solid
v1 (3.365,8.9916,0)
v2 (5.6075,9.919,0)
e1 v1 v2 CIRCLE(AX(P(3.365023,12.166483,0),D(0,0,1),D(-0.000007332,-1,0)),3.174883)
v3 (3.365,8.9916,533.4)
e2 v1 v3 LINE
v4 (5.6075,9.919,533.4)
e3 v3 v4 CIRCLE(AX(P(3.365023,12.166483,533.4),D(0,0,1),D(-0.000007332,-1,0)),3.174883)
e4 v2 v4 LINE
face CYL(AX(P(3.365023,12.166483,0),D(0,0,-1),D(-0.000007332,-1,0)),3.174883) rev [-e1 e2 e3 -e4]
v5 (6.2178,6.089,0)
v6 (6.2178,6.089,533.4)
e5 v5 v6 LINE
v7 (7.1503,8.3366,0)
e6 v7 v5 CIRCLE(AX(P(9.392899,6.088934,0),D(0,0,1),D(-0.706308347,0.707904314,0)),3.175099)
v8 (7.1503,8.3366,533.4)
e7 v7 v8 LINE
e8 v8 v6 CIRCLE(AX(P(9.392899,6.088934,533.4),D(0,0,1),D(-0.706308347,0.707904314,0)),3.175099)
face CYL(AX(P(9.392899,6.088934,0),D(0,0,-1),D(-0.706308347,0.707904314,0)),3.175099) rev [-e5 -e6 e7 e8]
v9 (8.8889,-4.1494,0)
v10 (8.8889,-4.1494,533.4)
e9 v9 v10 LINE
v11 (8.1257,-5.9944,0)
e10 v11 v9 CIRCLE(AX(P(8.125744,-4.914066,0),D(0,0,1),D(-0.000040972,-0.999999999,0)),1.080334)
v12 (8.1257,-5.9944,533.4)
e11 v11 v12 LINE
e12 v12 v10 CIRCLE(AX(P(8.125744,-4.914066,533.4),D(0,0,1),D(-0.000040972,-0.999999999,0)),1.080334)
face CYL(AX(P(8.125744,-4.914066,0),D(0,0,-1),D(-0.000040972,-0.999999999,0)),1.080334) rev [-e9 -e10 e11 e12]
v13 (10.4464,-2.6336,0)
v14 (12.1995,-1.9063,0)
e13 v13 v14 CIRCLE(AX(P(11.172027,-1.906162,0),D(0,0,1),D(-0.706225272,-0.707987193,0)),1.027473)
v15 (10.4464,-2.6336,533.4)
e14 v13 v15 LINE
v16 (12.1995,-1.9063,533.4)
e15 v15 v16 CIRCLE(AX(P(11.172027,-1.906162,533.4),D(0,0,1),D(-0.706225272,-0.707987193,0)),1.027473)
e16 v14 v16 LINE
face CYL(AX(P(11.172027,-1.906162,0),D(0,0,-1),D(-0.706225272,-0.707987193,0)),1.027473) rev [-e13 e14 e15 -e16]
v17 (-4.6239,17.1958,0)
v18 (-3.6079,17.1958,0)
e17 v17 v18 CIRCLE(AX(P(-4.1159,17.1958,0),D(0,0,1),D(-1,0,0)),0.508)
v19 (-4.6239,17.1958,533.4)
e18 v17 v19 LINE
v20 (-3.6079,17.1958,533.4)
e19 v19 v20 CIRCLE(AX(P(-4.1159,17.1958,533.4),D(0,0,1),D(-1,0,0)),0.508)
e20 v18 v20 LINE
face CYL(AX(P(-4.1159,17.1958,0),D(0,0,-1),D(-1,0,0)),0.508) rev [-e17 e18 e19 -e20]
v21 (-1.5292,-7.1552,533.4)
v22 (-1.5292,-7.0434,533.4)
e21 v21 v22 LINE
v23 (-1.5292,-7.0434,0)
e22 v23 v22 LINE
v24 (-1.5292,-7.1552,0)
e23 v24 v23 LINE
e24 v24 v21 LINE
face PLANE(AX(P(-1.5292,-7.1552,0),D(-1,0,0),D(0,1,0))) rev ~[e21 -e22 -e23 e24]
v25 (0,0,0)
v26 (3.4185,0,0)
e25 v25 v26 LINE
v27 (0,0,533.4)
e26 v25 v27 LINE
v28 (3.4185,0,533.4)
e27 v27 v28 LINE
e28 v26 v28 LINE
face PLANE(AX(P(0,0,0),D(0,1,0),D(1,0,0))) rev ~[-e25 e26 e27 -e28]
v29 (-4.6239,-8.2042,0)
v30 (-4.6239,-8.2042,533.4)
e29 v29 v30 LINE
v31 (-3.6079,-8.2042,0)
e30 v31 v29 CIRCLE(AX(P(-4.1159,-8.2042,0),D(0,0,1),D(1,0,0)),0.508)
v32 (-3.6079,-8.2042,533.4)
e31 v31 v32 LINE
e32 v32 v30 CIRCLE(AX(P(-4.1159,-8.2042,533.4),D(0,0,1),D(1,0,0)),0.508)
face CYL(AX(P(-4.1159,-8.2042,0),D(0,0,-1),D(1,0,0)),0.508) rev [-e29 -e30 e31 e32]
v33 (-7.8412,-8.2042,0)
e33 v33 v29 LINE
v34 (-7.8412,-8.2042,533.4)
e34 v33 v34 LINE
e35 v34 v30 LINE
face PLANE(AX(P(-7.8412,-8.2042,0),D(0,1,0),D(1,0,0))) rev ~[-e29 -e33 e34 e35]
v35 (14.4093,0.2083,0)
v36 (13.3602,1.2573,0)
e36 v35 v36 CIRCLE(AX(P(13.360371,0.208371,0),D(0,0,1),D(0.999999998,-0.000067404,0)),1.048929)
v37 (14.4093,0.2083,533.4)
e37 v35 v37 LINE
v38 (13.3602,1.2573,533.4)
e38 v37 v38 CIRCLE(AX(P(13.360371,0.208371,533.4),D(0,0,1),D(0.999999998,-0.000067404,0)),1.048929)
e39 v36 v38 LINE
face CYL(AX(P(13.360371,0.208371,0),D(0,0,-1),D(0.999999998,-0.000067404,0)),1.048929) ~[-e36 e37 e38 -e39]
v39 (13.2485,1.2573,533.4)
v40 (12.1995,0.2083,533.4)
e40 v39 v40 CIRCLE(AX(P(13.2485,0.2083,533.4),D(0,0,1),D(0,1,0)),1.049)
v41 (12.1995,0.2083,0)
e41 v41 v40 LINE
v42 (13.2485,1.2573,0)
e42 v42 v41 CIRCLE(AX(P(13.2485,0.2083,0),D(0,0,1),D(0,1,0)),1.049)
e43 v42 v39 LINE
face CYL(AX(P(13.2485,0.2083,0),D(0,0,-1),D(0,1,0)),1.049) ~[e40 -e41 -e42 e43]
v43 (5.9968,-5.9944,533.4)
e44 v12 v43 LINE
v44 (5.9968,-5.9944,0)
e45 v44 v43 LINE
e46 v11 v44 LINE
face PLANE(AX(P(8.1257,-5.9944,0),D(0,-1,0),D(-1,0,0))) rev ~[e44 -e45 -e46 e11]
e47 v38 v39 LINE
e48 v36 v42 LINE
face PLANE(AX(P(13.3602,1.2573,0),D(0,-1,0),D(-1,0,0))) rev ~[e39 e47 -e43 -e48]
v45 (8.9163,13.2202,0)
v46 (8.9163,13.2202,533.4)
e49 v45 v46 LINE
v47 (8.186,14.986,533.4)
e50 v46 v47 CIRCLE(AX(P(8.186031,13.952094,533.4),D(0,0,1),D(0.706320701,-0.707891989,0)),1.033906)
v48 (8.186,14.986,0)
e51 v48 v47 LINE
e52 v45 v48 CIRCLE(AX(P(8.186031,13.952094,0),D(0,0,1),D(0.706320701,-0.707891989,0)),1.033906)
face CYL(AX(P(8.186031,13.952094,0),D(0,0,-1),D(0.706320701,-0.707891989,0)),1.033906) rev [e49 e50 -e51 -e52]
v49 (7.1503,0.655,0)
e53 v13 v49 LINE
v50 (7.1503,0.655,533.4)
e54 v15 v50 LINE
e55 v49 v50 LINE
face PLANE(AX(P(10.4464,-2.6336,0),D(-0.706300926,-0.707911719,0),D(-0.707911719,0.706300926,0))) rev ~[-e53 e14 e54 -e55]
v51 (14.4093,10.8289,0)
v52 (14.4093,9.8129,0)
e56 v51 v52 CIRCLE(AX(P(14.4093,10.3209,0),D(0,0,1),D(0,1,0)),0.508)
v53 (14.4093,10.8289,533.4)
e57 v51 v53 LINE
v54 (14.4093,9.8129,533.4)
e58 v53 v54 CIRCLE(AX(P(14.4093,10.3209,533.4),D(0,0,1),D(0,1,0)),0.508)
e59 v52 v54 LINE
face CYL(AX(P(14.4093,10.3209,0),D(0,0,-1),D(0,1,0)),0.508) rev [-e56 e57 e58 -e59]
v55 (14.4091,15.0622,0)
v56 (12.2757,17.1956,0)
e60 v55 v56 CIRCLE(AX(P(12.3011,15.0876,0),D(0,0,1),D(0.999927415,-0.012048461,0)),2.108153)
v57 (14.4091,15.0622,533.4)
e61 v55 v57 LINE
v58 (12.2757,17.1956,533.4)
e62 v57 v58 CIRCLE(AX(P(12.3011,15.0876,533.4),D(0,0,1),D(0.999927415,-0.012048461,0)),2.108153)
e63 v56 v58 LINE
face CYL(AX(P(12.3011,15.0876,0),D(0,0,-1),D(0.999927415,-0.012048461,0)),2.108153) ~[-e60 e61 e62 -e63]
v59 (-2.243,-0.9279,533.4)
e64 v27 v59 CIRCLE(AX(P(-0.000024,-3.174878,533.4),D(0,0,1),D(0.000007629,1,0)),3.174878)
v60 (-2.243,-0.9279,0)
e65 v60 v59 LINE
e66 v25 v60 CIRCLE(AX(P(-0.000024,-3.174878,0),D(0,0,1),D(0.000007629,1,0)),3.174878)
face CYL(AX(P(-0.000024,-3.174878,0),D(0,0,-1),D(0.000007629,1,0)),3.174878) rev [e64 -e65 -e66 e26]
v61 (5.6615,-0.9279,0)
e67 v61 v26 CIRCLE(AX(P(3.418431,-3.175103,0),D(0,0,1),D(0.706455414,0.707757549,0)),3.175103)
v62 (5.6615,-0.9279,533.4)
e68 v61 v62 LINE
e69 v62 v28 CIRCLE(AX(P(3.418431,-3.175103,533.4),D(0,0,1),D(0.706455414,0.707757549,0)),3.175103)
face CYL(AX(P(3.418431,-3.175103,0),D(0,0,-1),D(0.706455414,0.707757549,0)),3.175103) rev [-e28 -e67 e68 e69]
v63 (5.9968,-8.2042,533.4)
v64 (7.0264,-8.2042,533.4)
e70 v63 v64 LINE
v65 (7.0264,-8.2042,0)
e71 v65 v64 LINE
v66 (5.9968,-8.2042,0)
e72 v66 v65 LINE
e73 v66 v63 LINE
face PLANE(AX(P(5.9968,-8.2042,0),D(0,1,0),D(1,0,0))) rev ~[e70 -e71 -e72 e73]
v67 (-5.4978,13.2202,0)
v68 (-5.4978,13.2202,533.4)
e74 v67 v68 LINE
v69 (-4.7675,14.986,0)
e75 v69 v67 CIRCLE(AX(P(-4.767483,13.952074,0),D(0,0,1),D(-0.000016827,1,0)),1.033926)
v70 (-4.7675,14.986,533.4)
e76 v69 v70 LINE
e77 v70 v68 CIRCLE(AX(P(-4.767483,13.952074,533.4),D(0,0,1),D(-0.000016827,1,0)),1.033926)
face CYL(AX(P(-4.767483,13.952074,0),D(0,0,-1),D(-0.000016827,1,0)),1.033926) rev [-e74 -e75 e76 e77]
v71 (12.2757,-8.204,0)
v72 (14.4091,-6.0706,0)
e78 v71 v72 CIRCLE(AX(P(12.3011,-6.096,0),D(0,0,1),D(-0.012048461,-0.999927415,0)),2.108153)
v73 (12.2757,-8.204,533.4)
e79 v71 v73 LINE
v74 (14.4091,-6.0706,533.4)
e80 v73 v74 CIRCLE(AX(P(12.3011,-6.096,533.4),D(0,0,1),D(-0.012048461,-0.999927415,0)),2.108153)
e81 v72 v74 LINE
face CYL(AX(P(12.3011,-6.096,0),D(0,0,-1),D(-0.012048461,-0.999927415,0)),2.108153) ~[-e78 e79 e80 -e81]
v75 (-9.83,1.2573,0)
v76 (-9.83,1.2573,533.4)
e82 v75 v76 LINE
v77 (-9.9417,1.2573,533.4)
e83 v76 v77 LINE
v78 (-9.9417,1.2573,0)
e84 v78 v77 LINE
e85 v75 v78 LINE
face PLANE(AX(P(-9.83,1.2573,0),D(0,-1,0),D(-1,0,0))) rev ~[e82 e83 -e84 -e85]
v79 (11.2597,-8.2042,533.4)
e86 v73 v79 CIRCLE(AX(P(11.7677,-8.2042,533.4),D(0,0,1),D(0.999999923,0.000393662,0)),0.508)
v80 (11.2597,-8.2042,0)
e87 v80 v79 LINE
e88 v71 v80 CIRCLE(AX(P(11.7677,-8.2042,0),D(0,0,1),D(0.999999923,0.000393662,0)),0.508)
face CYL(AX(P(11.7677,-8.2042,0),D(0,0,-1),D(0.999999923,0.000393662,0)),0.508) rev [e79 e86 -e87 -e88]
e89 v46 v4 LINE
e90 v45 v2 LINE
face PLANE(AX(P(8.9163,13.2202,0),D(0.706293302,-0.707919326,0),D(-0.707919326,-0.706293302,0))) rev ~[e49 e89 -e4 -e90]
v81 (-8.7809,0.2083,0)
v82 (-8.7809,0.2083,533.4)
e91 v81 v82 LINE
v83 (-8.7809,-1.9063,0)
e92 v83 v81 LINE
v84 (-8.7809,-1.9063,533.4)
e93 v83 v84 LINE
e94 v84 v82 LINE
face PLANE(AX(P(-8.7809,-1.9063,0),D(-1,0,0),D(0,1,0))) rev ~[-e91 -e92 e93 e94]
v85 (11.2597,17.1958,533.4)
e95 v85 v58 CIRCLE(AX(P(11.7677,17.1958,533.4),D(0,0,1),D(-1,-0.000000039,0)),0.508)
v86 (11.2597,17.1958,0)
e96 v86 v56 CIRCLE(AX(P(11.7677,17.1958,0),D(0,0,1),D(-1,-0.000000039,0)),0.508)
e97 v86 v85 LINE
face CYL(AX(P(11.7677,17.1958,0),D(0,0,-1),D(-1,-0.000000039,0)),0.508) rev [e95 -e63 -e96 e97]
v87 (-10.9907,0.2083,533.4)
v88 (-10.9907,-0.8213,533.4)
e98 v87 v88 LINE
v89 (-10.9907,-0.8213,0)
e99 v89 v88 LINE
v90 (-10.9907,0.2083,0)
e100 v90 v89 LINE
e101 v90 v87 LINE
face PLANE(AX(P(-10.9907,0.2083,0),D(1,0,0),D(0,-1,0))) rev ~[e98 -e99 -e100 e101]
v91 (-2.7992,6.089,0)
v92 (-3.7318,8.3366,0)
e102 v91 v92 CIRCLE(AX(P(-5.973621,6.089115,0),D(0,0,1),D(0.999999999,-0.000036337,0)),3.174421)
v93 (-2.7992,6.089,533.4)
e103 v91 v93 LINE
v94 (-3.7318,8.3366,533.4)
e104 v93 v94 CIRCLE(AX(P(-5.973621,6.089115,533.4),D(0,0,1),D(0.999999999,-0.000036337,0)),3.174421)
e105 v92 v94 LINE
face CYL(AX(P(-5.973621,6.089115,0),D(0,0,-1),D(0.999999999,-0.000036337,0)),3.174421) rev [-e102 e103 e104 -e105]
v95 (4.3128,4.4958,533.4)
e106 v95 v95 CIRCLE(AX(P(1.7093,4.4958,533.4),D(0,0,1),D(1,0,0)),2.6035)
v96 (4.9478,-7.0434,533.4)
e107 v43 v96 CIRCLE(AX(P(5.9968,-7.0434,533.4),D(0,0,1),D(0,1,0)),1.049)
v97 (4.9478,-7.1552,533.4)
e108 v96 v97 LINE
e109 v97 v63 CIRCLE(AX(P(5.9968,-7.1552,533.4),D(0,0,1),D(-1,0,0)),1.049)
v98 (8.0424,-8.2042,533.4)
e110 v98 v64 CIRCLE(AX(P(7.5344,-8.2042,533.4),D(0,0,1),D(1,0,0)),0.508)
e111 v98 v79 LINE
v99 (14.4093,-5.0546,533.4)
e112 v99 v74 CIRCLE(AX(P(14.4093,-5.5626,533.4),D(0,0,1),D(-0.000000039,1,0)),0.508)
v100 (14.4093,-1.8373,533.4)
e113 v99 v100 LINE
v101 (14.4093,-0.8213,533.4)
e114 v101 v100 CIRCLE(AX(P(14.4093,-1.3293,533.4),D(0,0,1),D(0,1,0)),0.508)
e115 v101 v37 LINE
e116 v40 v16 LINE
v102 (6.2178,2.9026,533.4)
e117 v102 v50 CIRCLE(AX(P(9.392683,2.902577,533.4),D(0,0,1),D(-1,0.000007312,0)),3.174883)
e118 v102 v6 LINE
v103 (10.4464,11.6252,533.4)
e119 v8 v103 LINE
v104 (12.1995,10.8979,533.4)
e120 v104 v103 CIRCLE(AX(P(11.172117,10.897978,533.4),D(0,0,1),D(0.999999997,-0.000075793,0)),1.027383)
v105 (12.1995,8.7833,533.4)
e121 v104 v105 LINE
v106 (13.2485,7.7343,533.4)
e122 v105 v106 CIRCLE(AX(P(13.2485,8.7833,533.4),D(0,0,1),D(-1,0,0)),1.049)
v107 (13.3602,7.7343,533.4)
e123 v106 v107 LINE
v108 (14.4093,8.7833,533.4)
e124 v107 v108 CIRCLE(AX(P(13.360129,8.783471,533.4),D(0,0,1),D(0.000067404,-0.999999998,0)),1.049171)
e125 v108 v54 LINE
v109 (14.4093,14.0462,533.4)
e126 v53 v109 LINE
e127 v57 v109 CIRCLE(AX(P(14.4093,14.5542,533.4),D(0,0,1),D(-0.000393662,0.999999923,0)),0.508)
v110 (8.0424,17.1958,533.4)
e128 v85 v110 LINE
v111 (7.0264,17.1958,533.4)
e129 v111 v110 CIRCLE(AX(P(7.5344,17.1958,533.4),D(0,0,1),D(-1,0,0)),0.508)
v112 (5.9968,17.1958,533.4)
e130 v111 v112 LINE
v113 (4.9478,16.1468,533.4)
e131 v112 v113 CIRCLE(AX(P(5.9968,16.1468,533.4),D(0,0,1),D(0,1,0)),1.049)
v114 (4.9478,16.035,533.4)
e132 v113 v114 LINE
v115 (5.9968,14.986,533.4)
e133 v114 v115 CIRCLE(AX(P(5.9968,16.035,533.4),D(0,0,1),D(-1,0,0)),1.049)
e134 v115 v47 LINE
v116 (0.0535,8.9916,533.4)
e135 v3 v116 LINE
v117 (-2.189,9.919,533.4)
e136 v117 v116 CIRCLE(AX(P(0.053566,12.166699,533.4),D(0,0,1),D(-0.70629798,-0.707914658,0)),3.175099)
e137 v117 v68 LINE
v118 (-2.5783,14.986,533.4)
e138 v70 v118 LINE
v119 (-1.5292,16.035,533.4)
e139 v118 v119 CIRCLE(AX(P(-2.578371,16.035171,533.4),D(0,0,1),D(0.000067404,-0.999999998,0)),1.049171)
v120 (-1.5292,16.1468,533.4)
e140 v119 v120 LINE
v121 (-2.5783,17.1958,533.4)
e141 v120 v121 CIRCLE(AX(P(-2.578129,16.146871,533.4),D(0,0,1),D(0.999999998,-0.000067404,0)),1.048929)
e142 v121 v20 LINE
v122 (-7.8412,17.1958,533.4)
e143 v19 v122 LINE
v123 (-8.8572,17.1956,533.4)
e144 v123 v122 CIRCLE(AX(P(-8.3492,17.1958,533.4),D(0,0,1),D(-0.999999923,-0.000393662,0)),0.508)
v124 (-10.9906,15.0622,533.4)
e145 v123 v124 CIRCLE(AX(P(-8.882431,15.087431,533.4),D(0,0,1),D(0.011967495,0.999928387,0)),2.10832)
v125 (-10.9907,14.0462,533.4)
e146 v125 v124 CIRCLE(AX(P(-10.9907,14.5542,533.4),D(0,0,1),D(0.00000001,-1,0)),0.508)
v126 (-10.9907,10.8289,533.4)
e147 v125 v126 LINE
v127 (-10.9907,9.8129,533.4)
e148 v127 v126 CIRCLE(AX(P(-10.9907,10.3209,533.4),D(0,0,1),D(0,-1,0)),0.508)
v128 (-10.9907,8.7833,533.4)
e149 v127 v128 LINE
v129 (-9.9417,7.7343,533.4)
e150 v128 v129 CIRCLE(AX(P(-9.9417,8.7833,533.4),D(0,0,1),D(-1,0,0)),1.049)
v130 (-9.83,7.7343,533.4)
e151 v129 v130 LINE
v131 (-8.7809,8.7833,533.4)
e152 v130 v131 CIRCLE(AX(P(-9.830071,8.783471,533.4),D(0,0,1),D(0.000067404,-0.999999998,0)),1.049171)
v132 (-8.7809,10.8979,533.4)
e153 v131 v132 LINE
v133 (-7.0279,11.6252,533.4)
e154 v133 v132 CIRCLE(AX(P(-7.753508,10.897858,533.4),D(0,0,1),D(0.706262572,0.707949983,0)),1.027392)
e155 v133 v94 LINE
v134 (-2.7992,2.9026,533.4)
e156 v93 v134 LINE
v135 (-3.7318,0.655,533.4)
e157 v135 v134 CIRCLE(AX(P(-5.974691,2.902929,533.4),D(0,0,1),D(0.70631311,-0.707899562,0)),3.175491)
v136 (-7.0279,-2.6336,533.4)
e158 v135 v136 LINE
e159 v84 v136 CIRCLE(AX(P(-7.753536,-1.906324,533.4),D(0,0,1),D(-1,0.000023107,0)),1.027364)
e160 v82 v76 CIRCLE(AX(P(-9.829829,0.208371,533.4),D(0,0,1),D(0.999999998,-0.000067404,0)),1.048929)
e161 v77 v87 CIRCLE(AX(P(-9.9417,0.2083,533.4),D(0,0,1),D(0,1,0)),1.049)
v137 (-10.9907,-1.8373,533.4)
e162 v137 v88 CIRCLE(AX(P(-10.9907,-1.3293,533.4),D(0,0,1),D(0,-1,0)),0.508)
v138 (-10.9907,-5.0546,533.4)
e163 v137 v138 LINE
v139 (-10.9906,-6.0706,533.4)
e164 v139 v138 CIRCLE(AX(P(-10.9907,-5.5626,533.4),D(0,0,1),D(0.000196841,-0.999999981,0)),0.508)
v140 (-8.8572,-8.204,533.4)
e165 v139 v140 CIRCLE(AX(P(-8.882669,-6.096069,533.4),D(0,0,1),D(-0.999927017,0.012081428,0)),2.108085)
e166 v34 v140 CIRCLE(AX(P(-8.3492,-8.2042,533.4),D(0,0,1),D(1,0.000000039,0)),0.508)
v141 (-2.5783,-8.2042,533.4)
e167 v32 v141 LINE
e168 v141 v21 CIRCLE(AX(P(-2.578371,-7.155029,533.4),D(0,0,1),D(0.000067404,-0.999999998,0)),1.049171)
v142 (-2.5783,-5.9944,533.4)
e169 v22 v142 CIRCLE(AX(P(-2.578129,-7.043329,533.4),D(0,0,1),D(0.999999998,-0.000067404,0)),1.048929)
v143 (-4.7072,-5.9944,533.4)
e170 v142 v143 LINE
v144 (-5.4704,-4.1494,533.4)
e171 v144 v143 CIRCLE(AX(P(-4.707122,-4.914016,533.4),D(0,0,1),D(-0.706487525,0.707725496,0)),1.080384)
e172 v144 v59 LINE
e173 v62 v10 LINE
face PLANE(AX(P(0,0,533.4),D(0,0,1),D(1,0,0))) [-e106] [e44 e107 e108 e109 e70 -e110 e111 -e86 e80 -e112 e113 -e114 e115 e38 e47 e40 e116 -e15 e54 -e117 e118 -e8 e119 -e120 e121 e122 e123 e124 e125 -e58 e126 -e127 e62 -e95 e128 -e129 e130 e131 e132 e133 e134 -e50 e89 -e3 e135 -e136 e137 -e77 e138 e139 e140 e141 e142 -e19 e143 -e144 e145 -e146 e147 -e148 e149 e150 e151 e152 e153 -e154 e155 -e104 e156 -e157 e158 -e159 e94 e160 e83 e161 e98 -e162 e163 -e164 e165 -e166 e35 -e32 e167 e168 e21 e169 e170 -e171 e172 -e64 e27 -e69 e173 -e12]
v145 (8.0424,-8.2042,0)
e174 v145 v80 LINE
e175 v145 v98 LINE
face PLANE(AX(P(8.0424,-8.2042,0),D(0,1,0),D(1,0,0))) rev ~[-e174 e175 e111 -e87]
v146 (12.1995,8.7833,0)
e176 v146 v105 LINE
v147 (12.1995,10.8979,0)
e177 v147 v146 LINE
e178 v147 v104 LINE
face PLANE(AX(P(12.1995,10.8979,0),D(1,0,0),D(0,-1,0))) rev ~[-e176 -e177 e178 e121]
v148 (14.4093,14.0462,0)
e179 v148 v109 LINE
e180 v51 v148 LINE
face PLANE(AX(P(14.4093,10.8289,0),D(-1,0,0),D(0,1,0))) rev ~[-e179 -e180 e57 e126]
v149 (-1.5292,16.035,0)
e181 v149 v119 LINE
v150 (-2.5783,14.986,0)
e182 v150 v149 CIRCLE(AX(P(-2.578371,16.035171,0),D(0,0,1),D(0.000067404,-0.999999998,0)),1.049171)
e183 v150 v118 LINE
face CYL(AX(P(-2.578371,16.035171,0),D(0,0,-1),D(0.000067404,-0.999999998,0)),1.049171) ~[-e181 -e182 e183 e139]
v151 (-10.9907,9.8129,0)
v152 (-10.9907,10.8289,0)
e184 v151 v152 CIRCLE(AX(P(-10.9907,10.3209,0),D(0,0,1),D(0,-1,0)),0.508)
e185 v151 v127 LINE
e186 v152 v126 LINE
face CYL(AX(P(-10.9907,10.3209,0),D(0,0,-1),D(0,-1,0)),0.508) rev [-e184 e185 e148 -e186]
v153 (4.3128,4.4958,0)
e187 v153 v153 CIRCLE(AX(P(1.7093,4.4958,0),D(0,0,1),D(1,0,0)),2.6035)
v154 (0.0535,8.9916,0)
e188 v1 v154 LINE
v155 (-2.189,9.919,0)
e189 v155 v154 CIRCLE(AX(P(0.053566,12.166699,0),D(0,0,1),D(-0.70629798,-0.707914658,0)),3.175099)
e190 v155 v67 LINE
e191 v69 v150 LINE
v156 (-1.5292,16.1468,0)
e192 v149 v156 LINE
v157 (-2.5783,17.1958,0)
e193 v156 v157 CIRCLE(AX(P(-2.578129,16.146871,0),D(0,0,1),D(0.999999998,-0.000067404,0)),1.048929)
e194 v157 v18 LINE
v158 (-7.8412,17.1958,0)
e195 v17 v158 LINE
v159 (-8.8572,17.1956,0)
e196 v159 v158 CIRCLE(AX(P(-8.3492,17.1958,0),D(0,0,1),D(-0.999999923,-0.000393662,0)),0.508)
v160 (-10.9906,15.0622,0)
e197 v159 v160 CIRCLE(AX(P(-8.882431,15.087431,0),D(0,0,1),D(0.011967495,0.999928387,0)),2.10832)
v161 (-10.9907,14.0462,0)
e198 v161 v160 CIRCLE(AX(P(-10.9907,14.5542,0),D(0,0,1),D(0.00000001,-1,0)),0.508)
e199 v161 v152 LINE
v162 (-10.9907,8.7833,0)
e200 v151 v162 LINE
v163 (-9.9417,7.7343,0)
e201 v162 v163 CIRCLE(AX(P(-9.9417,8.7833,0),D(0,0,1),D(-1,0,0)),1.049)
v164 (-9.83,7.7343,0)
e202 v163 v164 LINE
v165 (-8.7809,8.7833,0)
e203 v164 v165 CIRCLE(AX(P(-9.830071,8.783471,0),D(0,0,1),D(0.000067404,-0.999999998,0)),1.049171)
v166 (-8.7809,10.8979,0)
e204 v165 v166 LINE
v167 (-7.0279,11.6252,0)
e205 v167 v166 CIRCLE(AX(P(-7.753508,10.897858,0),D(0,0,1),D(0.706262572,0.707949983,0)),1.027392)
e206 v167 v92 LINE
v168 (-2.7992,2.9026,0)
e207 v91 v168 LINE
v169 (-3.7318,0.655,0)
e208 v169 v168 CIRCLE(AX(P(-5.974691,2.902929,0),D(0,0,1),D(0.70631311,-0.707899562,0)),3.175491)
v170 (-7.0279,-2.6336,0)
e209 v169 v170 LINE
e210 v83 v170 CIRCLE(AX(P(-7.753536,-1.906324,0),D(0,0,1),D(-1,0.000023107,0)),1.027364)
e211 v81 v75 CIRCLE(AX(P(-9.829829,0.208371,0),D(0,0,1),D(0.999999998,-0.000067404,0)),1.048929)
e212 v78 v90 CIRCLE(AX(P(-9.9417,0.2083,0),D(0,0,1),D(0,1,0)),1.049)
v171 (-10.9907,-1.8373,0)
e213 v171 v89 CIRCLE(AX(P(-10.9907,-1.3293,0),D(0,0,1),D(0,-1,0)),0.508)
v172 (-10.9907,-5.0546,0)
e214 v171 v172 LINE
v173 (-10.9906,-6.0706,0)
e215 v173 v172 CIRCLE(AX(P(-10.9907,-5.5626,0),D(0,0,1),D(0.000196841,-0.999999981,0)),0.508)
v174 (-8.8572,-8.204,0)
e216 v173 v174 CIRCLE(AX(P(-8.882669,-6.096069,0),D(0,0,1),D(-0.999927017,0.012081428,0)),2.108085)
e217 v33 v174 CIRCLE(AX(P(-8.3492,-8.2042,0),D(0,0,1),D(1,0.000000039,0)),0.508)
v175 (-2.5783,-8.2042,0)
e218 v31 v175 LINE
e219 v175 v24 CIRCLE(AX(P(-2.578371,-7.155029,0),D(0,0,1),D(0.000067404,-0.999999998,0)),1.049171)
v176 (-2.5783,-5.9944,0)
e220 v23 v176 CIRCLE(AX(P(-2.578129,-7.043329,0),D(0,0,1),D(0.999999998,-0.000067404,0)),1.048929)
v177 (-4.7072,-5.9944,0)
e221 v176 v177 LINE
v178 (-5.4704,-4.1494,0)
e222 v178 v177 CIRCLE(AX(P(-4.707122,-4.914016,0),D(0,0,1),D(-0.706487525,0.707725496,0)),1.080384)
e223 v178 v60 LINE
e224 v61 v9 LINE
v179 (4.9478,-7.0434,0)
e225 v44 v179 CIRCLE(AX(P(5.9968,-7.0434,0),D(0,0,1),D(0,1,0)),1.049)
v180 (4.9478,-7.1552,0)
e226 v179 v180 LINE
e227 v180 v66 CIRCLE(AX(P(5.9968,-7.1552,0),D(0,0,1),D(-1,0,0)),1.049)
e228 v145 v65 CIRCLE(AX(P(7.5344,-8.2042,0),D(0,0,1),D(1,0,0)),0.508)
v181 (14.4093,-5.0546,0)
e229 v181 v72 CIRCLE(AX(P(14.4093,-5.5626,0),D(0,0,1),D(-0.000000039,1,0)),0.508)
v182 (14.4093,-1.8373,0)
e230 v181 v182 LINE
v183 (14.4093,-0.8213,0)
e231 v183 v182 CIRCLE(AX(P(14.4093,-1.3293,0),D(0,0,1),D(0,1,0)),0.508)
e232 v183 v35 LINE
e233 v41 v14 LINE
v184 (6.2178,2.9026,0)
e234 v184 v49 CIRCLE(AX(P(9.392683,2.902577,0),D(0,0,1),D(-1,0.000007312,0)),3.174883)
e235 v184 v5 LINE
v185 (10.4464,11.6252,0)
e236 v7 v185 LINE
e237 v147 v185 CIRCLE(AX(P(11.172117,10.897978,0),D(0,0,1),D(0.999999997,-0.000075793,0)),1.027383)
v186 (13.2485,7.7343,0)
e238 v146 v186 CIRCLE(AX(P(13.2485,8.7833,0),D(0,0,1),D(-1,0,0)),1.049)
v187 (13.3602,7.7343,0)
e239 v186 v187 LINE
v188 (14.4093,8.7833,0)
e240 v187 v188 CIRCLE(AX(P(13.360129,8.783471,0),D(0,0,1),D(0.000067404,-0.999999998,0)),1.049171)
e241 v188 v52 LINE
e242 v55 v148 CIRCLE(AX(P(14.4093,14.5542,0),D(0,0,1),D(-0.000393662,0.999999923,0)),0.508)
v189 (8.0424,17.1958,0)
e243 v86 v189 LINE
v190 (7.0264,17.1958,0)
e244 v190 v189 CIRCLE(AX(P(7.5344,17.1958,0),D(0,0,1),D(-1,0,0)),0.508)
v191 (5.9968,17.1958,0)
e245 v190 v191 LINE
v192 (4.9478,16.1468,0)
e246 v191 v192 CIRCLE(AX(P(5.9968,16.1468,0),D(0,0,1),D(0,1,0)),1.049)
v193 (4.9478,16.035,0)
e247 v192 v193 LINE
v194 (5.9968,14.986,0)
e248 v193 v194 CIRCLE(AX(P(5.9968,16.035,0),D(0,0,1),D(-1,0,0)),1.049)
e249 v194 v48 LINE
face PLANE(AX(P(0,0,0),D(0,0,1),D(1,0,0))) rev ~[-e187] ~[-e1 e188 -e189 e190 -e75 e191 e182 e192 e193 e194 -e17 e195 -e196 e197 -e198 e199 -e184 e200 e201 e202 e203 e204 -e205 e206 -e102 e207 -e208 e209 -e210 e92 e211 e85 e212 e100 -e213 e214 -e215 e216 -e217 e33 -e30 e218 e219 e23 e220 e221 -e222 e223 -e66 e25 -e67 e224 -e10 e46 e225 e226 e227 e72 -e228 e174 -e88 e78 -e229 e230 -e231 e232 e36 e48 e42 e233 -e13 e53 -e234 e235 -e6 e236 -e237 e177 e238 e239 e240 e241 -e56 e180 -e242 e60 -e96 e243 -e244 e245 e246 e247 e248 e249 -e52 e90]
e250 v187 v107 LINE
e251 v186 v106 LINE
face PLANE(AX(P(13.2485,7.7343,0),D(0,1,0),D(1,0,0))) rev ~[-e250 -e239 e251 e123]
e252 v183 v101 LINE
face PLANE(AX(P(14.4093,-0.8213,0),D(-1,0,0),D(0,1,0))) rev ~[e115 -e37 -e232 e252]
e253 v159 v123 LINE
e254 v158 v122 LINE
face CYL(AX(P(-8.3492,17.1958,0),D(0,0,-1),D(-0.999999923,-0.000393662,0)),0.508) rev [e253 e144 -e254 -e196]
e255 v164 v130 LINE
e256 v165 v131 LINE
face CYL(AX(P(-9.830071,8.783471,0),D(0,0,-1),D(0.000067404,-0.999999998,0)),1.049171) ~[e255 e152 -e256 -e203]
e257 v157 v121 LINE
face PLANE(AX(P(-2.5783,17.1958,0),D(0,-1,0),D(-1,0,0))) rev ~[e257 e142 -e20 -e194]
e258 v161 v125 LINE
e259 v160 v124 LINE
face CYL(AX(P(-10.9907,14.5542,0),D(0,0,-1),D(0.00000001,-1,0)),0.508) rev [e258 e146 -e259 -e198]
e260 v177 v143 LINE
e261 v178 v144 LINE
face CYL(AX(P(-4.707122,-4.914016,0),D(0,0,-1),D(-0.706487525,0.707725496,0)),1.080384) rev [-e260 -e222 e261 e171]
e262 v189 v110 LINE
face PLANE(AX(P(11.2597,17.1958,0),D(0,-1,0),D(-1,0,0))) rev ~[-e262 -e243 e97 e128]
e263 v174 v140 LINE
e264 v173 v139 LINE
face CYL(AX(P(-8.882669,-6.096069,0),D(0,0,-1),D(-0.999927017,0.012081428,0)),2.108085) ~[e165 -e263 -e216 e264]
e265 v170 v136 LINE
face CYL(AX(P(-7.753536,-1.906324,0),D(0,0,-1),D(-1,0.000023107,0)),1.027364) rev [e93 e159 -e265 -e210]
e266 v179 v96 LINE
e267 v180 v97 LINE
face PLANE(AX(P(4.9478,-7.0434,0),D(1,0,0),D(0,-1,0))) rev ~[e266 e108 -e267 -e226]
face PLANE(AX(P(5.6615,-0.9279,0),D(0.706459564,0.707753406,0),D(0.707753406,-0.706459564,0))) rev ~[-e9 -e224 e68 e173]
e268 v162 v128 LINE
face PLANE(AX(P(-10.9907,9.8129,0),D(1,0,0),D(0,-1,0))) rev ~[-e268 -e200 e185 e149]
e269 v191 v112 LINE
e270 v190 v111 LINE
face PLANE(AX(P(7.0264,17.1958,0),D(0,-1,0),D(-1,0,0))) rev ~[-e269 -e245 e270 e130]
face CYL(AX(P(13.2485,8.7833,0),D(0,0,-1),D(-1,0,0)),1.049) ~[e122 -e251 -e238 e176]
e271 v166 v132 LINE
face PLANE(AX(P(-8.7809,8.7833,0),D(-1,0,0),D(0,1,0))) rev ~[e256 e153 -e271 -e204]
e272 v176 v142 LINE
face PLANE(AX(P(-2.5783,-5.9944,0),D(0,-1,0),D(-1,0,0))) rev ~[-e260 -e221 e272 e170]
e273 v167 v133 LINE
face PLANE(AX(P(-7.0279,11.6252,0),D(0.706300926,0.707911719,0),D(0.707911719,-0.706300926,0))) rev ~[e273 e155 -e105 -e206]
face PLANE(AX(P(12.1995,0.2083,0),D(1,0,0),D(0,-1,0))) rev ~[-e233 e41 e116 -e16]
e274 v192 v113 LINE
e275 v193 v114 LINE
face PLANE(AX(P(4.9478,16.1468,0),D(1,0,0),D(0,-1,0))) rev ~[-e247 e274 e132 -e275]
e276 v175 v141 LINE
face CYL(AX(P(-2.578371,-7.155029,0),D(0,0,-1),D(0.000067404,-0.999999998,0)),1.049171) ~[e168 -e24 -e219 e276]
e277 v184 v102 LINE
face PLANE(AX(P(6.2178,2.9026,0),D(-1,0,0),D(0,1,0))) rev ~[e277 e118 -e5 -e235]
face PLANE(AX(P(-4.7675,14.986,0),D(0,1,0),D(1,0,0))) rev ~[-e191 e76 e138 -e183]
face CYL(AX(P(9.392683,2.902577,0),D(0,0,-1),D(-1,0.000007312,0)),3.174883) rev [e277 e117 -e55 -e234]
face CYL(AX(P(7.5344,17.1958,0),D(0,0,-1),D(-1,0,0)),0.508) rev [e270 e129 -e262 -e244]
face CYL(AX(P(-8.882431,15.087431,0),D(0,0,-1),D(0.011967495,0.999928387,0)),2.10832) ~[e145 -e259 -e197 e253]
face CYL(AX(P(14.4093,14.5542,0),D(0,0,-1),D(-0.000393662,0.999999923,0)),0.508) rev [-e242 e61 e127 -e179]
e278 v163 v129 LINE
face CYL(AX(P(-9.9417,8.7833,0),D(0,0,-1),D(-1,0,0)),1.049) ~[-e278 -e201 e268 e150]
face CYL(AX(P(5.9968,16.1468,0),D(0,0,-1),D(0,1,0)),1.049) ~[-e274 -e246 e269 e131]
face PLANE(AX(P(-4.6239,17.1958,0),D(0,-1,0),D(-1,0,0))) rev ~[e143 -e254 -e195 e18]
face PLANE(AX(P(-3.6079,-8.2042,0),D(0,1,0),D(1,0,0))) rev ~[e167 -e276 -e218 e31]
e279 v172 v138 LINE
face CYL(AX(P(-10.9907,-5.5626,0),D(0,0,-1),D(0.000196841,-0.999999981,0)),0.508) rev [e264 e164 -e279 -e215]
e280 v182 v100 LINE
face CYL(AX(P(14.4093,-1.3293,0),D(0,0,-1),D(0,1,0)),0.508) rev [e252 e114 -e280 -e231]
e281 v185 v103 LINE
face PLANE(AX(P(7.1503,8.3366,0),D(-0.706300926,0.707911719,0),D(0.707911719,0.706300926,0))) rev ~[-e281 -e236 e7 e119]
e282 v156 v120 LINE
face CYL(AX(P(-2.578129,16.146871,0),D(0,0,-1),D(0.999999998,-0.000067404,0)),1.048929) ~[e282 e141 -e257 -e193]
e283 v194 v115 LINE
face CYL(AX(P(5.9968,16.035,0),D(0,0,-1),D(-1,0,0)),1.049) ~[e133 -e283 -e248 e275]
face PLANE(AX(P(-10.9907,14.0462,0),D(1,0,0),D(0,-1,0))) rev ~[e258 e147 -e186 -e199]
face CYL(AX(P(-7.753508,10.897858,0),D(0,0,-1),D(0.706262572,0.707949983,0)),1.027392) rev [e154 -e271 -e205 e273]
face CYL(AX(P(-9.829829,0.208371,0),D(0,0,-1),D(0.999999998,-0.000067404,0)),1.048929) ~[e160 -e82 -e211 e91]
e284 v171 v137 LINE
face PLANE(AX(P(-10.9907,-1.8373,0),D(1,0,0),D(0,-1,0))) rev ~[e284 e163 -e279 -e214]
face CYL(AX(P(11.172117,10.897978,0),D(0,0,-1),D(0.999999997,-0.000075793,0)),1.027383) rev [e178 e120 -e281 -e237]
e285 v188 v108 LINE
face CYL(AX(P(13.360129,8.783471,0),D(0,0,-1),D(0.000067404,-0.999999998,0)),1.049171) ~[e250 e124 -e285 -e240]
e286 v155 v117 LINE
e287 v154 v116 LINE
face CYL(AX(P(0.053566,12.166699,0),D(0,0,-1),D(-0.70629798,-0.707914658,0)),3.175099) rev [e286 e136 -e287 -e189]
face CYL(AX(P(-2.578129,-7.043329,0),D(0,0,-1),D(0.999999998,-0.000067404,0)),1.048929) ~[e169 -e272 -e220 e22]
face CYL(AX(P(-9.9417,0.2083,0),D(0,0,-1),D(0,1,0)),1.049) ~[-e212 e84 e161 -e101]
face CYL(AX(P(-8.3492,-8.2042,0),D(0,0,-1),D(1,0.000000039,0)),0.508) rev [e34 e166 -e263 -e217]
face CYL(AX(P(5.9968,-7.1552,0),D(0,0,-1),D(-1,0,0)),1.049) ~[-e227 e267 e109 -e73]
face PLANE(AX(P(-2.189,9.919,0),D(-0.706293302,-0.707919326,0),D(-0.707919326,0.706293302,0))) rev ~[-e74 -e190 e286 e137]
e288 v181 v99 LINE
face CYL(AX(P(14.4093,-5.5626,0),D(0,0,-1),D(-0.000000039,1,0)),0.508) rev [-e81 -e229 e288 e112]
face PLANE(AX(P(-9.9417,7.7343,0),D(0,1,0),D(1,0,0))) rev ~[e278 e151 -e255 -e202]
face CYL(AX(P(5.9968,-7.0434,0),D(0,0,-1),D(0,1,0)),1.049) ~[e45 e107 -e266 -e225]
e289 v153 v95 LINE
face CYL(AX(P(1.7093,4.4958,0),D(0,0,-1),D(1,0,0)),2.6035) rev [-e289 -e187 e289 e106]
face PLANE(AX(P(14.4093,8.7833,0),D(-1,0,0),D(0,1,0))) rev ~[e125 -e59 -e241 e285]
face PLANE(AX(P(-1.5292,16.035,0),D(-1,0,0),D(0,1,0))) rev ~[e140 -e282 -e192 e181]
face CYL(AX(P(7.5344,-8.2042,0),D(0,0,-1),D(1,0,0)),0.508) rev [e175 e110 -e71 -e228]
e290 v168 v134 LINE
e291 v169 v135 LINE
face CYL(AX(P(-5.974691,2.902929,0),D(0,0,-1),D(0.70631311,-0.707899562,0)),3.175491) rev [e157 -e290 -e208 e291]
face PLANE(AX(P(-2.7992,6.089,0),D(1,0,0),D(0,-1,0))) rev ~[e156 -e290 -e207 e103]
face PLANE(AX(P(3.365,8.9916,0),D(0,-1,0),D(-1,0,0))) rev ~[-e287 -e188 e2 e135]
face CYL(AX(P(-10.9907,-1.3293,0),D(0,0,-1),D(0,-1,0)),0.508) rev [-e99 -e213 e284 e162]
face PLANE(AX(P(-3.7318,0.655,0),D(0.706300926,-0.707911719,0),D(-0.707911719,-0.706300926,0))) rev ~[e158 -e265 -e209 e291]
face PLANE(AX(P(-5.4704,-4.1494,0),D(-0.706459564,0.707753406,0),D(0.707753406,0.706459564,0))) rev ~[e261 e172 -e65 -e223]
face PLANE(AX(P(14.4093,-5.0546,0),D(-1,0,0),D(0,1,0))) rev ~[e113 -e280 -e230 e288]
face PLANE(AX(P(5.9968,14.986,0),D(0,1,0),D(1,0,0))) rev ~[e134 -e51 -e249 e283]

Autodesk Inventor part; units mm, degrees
ref_plane "YZ Plane" through (0, 0, 0) normal (1, 0, 0) x (0, 1, 0)
ref_plane "XZ Plane" through (0, 0, 0) normal (0, 1, 0) x (-1, 0, 0)
ref_plane "XY Plane" through (0, 0, 0) normal (0, 0, 1) x (1, 0, 0)
sketch "Sketch1" plane through (0, 0, 0) normal (0, 0, 1) x (1, 0, 0)
  arc A0 (-5.4704, -4.1494) -> (-4.7072, -5.9944) centre (-4.7072, -4.914) ccw
  line L0 (-5.4704, -4.1494) -> (-2.243, -0.9279)
  arc A1 (0, 0) -> (-2.243, -0.9279) centre (0, -3.175) ccw
  line L1 (0, 0) -> (3.4185, 0)
  arc A2 (5.6615, -0.9279) -> (3.4185, 0) centre (3.4185, -3.175) ccw
  line L2 (5.6615, -0.9279) -> (8.8889, -4.1494)
  arc A3 (8.1257, -5.9944) -> (8.8889, -4.1494) centre (8.1257, -4.914) ccw
  line L3 (8.1257, -5.9944) -> (5.9968, -5.9944)
  arc A4 (5.9968, -5.9944) -> (4.9478, -7.0434) centre (5.9968, -7.0434) ccw
  line L4 (4.9478, -7.0434) -> (4.9478, -7.1552)
  arc A5 (4.9478, -7.1552) -> (5.9968, -8.2042) centre (5.9968, -7.1552) ccw
  line L5 (5.9968, -8.2042) -> (7.0264, -8.2042)
  arc A6 (8.0424, -8.2042) -> (7.0264, -8.2042) centre (7.5344, -8.2042) ccw
  line L6 (8.0424, -8.2042) -> (11.2597, -8.2042)
  arc A7 (12.2757, -8.204) -> (11.2597, -8.2042) centre (11.7677, -8.2042) ccw
  arc A8 (12.2757, -8.204) -> (14.4091, -6.0706) centre (12.3011, -6.096) ccw
  arc A9 (14.4093, -5.0546) -> (14.4091, -6.0706) centre (14.4093, -5.5626) ccw
  line L7 (14.4093, -5.0546) -> (14.4093, -1.8373)
  arc A10 (14.4093, -0.8213) -> (14.4093, -1.8373) centre (14.4093, -1.3293) ccw
  line L8 (14.4093, -0.8213) -> (14.4093, 0.2083)
  arc A11 (14.4093, 0.2083) -> (13.3602, 1.2573) centre (13.3602, 0.2083) ccw
  line L9 (13.3602, 1.2573) -> (13.2485, 1.2573)
  arc A12 (13.2485, 1.2573) -> (12.1995, 0.2083) centre (13.2485, 0.2083) ccw
  line L10 (12.1995, 0.2083) -> (12.1995, -1.9063)
  arc A13 (10.4464, -2.6336) -> (12.1995, -1.9063) centre (11.172, -1.9063) ccw
  line L11 (10.4464, -2.6336) -> (7.1503, 0.655)
  arc A14 (6.2178, 2.9026) -> (7.1503, 0.655) centre (9.3928, 2.9026) ccw
  line L12 (6.2178, 2.9026) -> (6.2178, 6.089)
  arc A15 (7.1503, 8.3366) -> (6.2178, 6.089) centre (9.3928, 6.089) ccw
  line L13 (7.1503, 8.3366) -> (10.4464, 11.6252)
  arc A16 (12.1995, 10.8979) -> (10.4464, 11.6252) centre (11.172, 10.8979) ccw
  line L14 (12.1995, 10.8979) -> (12.1995, 8.7833)
  arc A17 (12.1995, 8.7833) -> (13.2485, 7.7343) centre (13.2485, 8.7833) ccw
  line L15 (13.2485, 7.7343) -> (13.3602, 7.7343)
  arc A18 (13.3602, 7.7343) -> (14.4093, 8.7833) centre (13.3602, 8.7833) ccw
  line L16 (14.4093, 8.7833) -> (14.4093, 9.8129)
  arc A19 (14.4093, 10.8289) -> (14.4093, 9.8129) centre (14.4093, 10.3209) ccw
  line L17 (14.4093, 10.8289) -> (14.4093, 14.0462)
  arc A20 (14.4091, 15.0622) -> (14.4093, 14.0462) centre (14.4093, 14.5542) ccw
  arc A21 (14.4091, 15.0622) -> (12.2757, 17.1956) centre (12.3011, 15.0876) ccw
  arc A22 (11.2597, 17.1958) -> (12.2757, 17.1956) centre (11.7677, 17.1958) ccw
  line L18 (11.2597, 17.1958) -> (8.0424, 17.1958)
  arc A23 (7.0264, 17.1958) -> (8.0424, 17.1958) centre (7.5344, 17.1958) ccw
  line L19 (7.0264, 17.1958) -> (5.9968, 17.1958)
  arc A24 (5.9968, 17.1958) -> (4.9478, 16.1468) centre (5.9968, 16.1468) ccw
  line L20 (4.9478, 16.1468) -> (4.9478, 16.035)
  arc A25 (4.9478, 16.035) -> (5.9968, 14.986) centre (5.9968, 16.035) ccw
  line L21 (5.9968, 14.986) -> (8.186, 14.986)
  arc A26 (8.9163, 13.2202) -> (8.186, 14.986) centre (8.186, 13.9521) ccw
  line L22 (8.9163, 13.2202) -> (5.6075, 9.919)
  arc A27 (3.365, 8.9916) -> (5.6075, 9.919) centre (3.365, 12.1666) ccw
  line L23 (3.365, 8.9916) -> (0.0535, 8.9916)
  arc A28 (-2.189, 9.919) -> (0.0535, 8.9916) centre (0.0535, 12.1666) ccw
  line L24 (-2.189, 9.919) -> (-5.4978, 13.2202)
  arc A29 (-4.7675, 14.986) -> (-5.4978, 13.2202) centre (-4.7675, 13.9521) ccw
  line L25 (-4.7675, 14.986) -> (-2.5783, 14.986)
  arc A30 (-2.5783, 14.986) -> (-1.5292, 16.035) centre (-2.5783, 16.035) ccw
  line L26 (-1.5292, 16.035) -> (-1.5292, 16.1468)
  arc A31 (-1.5292, 16.1468) -> (-2.5783, 17.1958) centre (-2.5783, 16.1468) ccw
  line L27 (-2.5783, 17.1958) -> (-3.6079, 17.1958)
  arc A32 (-4.6239, 17.1958) -> (-3.6079, 17.1958) centre (-4.1159, 17.1958) ccw
  line L28 (-4.6239, 17.1958) -> (-7.8412, 17.1958)
  arc A33 (-8.8572, 17.1956) -> (-7.8412, 17.1958) centre (-8.3492, 17.1958) ccw
  arc A34 (-8.8572, 17.1956) -> (-10.9906, 15.0622) centre (-8.8825, 15.0876) ccw
  arc A35 (-10.9907, 14.0462) -> (-10.9906, 15.0622) centre (-10.9907, 14.5542) ccw
  line L29 (-10.9907, 14.0462) -> (-10.9907, 10.8289)
  arc A36 (-10.9907, 9.8129) -> (-10.9907, 10.8289) centre (-10.9907, 10.3209) ccw
  line L30 (-10.9907, 9.8129) -> (-10.9907, 8.7833)
  arc A37 (-10.9907, 8.7833) -> (-9.9417, 7.7343) centre (-9.9417, 8.7833) ccw
  line L31 (-9.9417, 7.7343) -> (-9.83, 7.7343)
  arc A38 (-9.83, 7.7343) -> (-8.7809, 8.7833) centre (-9.83, 8.7833) ccw
  line L32 (-8.7809, 8.7833) -> (-8.7809, 10.8979)
  arc A39 (-7.0279, 11.6252) -> (-8.7809, 10.8979) centre (-7.7535, 10.8979) ccw
  line L33 (-7.0279, 11.6252) -> (-3.7318, 8.3366)
  arc A40 (-2.7992, 6.089) -> (-3.7318, 8.3366) centre (-5.9742, 6.089) ccw
  line L34 (-2.7992, 6.089) -> (-2.7992, 2.9026)
  arc A41 (-3.7318, 0.655) -> (-2.7992, 2.9026) centre (-5.9742, 2.9026) ccw
  line L35 (-3.7318, 0.655) -> (-7.0279, -2.6336)
  arc A42 (-8.7809, -1.9063) -> (-7.0279, -2.6336) centre (-7.7535, -1.9063) ccw
  line L36 (-8.7809, -1.9063) -> (-8.7809, 0.2083)
  arc A43 (-8.7809, 0.2083) -> (-9.83, 1.2573) centre (-9.83, 0.2083) ccw
  line L37 (-9.83, 1.2573) -> (-9.9417, 1.2573)
  arc A44 (-9.9417, 1.2573) -> (-10.9907, 0.2083) centre (-9.9417, 0.2083) ccw
  line L38 (-10.9907, 0.2083) -> (-10.9907, -0.8213)
  arc A45 (-10.9907, -1.8373) -> (-10.9907, -0.8213) centre (-10.9907, -1.3293) ccw
  line L39 (-10.9907, -1.8373) -> (-10.9907, -5.0546)
  arc A46 (-10.9906, -6.0706) -> (-10.9907, -5.0546) centre (-10.9907, -5.5626) ccw
  arc A47 (-10.9906, -6.0706) -> (-8.8572, -8.204) centre (-8.8825, -6.096) ccw
  arc A48 (-7.8412, -8.2042) -> (-8.8572, -8.204) centre (-8.3492, -8.2042) ccw
  line L40 (-7.8412, -8.2042) -> (-4.6239, -8.2042)
  arc A49 (-3.6079, -8.2042) -> (-4.6239, -8.2042) centre (-4.1159, -8.2042) ccw
  line L41 (-3.6079, -8.2042) -> (-2.5783, -8.2042)
  arc A50 (-2.5783, -8.2042) -> (-1.5292, -7.1552) centre (-2.5783, -7.1552) ccw
  line L42 (-1.5292, -7.1552) -> (-1.5292, -7.0434)
  arc A51 (-1.5292, -7.0434) -> (-2.5783, -5.9944) centre (-2.5783, -7.0434) ccw
  line L43 (-2.5783, -5.9944) -> (-4.7072, -5.9944)
  circle A52 centre (1.7093, 4.4958) radius 2.6035
extrude "Extrusion1" add sketch "Sketch1" along normal blind 533.4
properties part number "21in 1x1 T slot"
